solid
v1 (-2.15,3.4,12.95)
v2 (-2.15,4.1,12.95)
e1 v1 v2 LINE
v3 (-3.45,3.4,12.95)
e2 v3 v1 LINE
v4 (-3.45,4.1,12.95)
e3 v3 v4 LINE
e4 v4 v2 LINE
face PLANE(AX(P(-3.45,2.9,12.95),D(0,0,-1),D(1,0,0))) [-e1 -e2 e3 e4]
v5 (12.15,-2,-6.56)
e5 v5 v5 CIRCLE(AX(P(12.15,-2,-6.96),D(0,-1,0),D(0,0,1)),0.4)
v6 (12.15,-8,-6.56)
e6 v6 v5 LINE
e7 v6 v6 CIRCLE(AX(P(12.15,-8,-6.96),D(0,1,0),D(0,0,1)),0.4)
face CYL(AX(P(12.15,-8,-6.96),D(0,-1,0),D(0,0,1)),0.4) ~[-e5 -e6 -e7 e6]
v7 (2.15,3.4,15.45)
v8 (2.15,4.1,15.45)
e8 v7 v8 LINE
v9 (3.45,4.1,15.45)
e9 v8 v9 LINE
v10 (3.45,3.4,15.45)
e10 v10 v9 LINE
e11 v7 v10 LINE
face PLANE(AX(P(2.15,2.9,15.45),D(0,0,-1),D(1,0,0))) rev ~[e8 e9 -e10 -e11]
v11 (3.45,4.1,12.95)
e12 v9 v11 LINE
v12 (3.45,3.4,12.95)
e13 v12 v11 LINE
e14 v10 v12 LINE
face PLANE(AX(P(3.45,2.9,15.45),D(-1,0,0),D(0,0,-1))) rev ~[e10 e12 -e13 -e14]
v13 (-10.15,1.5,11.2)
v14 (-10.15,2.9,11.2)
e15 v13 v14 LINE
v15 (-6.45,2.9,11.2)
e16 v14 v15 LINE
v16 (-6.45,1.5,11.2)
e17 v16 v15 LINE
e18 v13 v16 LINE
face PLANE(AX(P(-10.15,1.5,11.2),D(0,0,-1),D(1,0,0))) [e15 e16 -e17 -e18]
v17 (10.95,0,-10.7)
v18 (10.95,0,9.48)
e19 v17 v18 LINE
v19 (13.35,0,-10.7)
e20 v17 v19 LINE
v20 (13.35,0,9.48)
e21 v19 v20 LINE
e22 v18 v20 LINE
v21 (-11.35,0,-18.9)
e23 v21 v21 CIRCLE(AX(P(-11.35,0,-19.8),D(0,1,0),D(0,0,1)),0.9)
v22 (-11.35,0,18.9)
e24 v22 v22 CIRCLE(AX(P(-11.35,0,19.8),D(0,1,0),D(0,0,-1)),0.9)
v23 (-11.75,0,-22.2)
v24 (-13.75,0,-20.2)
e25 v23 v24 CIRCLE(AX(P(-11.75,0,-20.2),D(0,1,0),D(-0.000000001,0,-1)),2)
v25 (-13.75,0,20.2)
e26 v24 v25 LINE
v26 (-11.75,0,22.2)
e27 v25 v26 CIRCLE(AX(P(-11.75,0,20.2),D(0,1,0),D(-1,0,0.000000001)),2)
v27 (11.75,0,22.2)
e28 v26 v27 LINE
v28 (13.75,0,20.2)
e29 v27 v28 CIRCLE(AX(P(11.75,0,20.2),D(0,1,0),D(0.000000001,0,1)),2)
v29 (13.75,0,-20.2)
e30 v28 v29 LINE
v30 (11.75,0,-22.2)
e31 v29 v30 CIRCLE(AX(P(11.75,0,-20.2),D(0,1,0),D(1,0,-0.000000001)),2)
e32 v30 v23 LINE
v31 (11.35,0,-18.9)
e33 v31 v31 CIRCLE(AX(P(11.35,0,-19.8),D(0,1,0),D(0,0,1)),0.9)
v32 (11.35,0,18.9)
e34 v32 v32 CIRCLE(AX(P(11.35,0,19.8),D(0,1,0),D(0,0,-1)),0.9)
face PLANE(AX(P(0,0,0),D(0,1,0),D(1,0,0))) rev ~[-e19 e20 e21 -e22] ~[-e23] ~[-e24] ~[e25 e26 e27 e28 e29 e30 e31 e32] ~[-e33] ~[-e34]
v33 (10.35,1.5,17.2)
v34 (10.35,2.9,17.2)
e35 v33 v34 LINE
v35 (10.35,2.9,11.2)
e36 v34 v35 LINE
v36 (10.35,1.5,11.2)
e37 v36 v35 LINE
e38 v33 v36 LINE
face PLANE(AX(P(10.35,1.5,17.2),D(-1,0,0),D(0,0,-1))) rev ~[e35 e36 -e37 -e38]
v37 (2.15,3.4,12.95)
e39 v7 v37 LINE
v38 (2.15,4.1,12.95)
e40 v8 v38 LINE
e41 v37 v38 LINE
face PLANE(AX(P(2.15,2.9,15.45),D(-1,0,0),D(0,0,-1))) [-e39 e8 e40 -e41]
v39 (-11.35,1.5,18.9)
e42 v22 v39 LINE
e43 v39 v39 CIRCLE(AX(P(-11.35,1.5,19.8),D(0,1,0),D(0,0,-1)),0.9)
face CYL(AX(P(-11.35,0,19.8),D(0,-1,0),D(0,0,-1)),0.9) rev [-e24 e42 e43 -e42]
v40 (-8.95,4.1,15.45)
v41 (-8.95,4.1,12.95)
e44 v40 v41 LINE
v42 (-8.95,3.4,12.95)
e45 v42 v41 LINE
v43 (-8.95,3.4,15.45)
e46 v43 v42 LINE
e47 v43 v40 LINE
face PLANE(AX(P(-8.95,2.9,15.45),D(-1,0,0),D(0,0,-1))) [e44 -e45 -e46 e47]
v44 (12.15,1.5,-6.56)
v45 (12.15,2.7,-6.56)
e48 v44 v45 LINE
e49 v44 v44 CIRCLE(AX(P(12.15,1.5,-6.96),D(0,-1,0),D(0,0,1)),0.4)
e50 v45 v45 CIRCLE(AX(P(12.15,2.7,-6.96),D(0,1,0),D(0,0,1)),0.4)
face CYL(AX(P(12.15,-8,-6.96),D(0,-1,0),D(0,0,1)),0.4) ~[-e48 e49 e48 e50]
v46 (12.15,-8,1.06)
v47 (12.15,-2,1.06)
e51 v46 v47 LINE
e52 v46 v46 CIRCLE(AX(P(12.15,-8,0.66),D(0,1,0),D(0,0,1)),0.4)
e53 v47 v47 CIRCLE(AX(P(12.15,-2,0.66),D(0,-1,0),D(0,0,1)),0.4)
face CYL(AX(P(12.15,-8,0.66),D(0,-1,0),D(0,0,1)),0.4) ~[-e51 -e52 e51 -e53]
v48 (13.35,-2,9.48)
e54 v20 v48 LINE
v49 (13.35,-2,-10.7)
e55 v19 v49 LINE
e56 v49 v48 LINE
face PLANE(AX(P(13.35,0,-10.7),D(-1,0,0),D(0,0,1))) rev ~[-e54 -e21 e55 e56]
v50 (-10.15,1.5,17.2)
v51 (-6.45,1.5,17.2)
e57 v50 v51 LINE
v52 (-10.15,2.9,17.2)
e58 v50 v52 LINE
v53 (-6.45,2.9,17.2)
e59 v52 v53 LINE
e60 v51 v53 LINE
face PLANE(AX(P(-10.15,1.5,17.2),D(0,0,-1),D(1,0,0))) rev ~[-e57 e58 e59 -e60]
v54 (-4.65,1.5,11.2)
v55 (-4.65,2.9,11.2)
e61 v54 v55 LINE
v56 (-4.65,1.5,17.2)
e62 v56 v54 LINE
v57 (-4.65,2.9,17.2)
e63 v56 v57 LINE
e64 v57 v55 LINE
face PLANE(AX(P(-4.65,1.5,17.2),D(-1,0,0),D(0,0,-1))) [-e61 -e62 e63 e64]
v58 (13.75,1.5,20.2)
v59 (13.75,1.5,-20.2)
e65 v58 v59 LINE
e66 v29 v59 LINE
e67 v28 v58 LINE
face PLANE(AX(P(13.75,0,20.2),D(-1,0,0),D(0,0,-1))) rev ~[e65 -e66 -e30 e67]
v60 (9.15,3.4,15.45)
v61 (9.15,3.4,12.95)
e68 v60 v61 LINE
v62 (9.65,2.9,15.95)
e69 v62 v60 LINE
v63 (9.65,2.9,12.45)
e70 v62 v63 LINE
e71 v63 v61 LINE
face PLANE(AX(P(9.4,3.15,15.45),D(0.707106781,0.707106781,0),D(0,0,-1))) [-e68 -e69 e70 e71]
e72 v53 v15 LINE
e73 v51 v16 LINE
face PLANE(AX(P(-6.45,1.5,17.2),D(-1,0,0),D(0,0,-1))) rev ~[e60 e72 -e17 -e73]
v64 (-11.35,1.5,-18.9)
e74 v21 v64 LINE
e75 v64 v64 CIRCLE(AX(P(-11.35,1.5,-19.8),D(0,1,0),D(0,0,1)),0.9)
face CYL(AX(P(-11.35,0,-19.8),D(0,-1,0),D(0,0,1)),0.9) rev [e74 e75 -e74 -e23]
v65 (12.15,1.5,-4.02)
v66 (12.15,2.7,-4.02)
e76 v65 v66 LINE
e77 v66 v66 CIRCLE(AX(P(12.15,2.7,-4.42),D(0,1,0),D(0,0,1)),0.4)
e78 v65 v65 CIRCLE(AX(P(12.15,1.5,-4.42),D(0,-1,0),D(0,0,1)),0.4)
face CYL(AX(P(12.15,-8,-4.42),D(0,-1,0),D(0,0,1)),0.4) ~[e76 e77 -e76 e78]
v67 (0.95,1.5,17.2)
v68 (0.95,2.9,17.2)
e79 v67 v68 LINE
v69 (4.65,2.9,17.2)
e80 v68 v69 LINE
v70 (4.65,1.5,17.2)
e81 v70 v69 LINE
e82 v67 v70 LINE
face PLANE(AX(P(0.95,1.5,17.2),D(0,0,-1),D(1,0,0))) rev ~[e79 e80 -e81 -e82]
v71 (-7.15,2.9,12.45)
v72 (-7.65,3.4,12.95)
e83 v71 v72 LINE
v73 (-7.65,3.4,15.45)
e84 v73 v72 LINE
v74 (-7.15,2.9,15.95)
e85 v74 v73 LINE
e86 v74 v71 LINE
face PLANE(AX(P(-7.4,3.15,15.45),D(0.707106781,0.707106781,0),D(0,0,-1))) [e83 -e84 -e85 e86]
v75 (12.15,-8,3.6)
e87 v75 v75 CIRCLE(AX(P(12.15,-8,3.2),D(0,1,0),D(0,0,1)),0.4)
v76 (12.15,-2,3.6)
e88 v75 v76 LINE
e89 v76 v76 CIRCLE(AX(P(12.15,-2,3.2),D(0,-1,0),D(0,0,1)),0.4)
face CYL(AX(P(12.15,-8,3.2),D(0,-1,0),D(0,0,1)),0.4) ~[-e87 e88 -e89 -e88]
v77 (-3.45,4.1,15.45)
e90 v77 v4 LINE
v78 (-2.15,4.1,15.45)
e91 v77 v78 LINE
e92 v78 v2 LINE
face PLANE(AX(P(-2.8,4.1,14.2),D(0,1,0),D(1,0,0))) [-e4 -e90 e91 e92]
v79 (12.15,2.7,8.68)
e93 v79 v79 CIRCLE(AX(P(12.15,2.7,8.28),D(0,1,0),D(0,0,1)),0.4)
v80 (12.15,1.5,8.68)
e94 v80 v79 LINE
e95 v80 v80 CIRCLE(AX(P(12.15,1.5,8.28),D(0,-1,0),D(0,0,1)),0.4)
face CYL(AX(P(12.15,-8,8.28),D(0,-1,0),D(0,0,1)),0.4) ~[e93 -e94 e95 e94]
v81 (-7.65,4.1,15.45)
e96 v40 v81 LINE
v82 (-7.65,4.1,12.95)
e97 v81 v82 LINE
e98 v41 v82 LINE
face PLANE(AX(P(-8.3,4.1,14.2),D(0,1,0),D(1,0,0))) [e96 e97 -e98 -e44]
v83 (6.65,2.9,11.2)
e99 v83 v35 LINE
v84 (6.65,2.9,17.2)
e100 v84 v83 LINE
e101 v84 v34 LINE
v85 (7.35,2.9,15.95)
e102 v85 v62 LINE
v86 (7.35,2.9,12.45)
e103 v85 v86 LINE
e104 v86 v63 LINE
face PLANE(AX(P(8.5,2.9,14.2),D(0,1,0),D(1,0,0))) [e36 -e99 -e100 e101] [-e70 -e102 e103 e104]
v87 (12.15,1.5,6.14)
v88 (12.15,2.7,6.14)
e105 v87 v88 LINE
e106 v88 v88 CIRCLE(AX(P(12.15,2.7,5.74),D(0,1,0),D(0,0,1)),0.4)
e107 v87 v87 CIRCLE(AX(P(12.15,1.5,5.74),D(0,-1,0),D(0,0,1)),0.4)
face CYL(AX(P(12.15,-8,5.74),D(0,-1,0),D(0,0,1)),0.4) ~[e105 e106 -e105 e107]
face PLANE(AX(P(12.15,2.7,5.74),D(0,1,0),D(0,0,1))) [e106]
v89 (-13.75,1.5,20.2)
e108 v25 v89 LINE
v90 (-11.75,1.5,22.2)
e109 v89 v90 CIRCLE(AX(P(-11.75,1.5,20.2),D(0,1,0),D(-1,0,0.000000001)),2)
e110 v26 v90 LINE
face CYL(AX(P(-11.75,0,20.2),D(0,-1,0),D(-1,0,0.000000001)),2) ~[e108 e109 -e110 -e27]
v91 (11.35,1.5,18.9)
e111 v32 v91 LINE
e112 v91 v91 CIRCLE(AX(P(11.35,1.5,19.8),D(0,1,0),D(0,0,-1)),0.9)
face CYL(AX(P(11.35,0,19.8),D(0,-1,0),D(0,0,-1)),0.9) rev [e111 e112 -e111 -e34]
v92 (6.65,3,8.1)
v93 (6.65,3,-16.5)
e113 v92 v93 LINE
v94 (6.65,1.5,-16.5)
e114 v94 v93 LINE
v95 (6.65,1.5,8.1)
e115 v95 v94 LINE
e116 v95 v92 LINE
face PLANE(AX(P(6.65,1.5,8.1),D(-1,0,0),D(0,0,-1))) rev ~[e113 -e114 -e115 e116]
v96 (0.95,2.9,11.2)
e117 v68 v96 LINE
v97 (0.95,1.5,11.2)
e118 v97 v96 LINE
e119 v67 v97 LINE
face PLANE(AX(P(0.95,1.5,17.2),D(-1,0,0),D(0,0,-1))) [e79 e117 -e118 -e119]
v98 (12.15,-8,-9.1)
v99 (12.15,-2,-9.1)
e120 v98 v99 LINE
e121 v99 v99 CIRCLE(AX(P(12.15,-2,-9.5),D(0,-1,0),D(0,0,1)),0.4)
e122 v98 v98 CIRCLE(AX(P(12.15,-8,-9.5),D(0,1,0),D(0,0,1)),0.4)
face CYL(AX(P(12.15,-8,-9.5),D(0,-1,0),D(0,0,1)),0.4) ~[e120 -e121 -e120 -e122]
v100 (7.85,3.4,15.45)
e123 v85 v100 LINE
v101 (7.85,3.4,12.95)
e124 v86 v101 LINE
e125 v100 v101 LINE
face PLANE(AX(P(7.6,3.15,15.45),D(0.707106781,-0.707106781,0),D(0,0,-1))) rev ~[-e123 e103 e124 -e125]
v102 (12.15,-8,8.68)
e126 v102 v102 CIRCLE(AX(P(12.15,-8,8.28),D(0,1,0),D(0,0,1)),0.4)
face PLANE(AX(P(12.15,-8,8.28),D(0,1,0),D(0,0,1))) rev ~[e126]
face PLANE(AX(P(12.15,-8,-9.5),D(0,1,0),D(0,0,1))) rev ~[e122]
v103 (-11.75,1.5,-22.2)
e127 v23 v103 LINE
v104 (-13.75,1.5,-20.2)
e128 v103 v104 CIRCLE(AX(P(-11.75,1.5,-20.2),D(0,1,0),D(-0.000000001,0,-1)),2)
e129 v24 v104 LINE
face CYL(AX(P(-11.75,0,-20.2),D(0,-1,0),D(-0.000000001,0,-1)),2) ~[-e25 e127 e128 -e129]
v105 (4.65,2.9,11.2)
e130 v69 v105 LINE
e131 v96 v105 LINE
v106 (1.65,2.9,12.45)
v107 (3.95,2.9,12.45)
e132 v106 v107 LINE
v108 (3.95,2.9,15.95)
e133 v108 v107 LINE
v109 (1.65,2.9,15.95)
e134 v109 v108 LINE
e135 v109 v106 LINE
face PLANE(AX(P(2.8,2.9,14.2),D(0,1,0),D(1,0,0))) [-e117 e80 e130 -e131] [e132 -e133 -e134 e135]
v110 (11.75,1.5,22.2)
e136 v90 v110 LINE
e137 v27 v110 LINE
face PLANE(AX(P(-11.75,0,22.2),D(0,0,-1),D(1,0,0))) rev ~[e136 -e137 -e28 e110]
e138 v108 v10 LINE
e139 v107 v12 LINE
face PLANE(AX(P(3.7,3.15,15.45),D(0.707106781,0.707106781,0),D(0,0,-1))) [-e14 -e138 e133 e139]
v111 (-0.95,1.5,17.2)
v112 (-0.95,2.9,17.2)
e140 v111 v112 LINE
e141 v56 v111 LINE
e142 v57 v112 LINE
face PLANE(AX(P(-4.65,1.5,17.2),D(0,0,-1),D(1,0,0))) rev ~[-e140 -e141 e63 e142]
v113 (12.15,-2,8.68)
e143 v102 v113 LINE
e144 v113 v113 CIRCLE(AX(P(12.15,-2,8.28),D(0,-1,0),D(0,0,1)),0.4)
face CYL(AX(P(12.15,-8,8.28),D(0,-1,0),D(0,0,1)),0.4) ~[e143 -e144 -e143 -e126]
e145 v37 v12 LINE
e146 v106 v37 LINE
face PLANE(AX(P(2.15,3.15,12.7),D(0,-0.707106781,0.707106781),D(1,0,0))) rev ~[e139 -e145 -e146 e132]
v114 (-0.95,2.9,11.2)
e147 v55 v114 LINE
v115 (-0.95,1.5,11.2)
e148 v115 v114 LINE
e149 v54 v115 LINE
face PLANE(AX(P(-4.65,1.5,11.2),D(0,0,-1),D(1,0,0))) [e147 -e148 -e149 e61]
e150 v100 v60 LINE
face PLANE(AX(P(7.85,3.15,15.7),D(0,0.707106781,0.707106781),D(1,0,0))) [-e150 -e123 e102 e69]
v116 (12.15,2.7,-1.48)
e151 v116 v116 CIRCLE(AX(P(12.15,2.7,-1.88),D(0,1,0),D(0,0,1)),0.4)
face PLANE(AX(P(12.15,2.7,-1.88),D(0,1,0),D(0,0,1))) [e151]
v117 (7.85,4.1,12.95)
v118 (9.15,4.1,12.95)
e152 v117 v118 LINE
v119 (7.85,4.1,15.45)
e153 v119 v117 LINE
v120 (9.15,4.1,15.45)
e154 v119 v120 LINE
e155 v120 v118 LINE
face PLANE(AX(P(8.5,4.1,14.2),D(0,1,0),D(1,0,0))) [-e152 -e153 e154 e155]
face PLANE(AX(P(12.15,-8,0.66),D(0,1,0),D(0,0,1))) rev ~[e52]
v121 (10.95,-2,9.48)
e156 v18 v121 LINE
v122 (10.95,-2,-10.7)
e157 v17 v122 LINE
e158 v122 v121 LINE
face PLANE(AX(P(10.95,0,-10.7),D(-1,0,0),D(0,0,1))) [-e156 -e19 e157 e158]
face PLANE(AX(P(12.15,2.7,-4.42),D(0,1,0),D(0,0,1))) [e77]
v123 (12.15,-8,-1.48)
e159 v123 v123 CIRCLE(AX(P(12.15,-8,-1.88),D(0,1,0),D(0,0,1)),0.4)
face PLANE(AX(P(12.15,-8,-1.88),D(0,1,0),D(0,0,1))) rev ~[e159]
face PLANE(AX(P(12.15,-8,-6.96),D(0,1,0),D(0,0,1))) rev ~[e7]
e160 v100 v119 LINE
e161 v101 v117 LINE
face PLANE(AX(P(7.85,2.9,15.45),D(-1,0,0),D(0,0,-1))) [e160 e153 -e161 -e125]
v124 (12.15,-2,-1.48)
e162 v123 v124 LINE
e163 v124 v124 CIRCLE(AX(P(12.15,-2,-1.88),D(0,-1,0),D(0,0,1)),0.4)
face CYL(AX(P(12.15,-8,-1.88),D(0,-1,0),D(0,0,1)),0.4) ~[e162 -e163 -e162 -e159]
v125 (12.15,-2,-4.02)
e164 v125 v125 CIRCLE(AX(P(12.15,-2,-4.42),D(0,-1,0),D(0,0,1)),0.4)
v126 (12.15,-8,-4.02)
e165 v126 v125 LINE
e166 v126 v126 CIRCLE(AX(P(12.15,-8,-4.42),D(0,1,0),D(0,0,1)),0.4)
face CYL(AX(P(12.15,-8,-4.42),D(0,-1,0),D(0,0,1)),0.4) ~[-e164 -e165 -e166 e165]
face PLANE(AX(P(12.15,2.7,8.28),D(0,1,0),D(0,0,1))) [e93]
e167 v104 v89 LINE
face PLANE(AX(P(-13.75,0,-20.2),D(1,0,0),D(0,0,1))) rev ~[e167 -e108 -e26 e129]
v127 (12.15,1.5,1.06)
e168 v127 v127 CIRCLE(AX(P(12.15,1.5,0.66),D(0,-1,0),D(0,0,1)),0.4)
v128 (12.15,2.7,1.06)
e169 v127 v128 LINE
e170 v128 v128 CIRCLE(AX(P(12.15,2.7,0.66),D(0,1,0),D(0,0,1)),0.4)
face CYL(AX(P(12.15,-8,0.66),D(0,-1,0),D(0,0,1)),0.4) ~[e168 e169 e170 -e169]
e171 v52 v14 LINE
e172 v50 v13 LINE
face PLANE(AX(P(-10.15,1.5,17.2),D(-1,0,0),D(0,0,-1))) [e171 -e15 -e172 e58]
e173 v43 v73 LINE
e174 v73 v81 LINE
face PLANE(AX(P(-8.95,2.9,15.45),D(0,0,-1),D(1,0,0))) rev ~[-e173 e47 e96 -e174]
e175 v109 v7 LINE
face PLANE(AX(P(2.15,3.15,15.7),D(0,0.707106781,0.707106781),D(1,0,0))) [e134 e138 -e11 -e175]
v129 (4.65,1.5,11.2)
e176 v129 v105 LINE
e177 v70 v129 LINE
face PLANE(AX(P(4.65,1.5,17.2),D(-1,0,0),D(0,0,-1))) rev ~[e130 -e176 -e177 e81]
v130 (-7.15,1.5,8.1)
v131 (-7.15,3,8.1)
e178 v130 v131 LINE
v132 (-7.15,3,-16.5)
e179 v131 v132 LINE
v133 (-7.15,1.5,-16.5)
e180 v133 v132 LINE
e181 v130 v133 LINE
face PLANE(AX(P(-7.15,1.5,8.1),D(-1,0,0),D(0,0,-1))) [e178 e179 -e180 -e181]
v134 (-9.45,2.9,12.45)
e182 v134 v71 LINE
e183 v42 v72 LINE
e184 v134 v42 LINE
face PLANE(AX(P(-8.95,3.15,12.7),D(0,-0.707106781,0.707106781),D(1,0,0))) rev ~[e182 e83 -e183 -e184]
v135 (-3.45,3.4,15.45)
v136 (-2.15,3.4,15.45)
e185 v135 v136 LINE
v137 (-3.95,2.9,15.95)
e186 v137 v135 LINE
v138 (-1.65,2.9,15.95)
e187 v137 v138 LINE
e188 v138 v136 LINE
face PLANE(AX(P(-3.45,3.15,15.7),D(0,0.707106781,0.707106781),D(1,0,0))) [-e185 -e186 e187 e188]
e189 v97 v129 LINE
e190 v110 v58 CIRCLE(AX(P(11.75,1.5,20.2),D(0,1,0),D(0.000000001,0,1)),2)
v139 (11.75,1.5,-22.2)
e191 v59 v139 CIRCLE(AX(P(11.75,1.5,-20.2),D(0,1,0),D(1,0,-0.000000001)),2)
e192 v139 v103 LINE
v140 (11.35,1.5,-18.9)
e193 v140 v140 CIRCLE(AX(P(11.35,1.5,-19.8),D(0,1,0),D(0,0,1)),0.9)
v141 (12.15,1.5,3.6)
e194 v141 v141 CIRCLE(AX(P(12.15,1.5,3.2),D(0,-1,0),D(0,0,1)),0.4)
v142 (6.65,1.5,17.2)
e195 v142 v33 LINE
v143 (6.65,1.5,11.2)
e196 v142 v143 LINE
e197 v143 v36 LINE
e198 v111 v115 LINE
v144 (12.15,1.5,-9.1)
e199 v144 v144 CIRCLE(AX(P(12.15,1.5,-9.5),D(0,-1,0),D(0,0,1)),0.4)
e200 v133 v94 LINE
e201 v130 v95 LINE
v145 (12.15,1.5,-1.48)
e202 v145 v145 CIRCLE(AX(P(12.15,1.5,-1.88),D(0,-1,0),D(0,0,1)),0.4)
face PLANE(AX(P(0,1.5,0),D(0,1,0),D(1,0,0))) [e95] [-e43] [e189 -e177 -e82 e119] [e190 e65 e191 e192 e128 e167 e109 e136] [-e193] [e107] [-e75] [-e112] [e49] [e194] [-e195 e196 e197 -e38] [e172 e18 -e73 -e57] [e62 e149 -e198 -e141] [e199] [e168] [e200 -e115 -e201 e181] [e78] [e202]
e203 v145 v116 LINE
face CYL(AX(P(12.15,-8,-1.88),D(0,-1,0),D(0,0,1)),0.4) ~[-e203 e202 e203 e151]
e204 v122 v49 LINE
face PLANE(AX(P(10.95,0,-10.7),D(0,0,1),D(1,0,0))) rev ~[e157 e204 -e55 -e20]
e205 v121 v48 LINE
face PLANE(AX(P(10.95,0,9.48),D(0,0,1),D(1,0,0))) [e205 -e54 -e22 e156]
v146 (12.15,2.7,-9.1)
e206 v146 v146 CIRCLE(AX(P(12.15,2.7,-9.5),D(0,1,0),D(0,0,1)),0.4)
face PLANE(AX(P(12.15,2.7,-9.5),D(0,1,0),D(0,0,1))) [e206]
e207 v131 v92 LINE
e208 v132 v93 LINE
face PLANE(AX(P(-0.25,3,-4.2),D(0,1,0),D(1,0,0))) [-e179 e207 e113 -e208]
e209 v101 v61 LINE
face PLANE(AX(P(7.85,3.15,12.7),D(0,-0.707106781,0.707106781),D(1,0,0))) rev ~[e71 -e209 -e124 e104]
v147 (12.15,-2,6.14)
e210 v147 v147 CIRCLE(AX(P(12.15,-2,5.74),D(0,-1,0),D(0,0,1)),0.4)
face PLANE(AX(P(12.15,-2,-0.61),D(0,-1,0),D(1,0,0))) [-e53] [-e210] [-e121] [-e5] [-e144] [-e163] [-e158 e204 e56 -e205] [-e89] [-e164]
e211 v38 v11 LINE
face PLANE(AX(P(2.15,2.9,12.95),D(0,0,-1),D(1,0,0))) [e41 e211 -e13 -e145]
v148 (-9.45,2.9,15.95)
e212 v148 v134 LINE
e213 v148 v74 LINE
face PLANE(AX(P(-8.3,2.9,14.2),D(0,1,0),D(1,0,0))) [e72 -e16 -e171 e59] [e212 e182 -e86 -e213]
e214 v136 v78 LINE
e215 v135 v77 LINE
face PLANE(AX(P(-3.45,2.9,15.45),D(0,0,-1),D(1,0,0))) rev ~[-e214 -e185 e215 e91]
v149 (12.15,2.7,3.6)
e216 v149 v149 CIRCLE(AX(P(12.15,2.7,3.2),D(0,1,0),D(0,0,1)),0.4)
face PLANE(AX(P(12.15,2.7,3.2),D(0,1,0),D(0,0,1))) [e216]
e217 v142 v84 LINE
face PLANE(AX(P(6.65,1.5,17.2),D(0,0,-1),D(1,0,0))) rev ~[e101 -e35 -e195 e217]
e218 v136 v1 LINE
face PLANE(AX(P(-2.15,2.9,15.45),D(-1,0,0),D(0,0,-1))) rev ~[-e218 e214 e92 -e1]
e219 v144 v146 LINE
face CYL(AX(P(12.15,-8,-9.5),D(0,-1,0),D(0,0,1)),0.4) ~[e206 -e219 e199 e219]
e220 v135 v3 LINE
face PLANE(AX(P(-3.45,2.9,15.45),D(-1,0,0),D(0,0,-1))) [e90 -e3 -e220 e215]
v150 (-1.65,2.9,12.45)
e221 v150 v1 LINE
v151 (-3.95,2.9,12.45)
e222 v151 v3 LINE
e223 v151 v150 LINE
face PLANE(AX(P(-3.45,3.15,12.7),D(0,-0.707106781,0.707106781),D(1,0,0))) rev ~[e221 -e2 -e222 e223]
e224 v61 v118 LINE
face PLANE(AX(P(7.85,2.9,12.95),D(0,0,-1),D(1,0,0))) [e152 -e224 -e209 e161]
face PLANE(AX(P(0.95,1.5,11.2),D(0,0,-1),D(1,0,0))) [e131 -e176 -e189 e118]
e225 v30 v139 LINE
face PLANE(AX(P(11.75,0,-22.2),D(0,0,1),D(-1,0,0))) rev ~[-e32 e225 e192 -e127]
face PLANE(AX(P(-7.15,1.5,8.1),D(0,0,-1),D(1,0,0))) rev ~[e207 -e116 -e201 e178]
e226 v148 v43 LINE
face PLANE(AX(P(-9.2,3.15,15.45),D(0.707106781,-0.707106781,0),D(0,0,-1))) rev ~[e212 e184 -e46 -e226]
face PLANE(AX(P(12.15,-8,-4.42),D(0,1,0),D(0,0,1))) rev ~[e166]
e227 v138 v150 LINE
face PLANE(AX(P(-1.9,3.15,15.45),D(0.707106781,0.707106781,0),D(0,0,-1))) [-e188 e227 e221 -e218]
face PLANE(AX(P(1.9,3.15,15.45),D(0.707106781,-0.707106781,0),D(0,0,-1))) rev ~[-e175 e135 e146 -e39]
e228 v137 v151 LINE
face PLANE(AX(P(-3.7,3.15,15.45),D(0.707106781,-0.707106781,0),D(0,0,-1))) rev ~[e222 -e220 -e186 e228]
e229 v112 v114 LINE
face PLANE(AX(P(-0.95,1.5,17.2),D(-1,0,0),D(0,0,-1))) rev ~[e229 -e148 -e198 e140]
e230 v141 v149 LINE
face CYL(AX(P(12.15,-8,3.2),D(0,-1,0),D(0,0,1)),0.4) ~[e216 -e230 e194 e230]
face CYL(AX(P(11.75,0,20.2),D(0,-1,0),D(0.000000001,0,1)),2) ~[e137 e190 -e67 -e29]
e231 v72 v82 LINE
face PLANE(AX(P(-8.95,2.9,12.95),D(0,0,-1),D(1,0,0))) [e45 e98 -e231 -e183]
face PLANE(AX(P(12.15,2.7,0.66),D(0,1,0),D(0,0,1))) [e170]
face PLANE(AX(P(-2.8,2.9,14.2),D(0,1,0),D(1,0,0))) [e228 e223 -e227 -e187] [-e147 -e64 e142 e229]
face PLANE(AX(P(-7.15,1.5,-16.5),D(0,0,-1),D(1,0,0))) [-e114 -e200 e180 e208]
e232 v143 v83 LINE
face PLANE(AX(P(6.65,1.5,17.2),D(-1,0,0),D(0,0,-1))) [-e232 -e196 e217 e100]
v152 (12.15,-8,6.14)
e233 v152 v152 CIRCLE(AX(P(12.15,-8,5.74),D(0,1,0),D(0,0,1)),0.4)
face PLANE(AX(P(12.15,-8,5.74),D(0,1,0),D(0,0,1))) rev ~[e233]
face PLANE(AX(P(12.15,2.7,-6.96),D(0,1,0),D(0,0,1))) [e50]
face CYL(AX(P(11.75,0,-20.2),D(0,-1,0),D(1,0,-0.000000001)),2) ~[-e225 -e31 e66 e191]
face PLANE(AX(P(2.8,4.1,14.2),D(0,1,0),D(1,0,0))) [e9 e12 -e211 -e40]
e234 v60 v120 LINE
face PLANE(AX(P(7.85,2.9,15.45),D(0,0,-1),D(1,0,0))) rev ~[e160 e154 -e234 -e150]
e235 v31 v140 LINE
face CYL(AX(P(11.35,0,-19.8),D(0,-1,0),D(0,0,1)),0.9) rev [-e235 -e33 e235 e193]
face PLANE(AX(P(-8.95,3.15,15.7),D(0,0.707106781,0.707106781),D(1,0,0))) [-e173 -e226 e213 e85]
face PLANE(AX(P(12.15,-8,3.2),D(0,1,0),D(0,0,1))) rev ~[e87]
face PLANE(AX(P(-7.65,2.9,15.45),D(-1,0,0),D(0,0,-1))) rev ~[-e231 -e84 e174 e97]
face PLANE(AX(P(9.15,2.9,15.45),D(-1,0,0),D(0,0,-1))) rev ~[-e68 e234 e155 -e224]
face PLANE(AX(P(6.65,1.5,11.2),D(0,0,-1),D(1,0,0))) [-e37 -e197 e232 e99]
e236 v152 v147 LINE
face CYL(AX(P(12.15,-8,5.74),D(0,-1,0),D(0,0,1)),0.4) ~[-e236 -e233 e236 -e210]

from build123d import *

# Parameters (mm, degrees)
SKETCH_1_R           = 0.9
EXTRUDE_1_DEPTH      = 1.5
SKETCH_2_W           = 13.8
SKETCH_2_H           = 24.6
EXTRUDE_2_DEPTH      = 1.5
SKETCH_3_W           = 3.7
SKETCH_3_H           = 6
EXTRUDE_3_DEPTH      = 1.4
SKETCH_4_W           = 1.3
SKETCH_4_H           = 2.5
EXTRUDE_4_DEPTH      = 1.2
CHAMFER_1_SIZE       = 0.5
EXTRUDE_5_DEPTH      = 1.2
EXTRUDE_5_DEPTH_BACK = 9.5
SKETCH_5_R           = 0.4
SKETCH_6_W           = 2.4
SKETCH_6_H           = 20.18
SKETCH_6_R           = 0.4
EXTRUDE_6_DEPTH      = 2


with BuildPart() as part:
    # Эскиз1 → Бобышка-Вытянуть1 (new body)
    with BuildSketch(Plane(origin=(0, 0, 0), x_dir=(1, 0, 0), z_dir=(0, 1, 0))):
        with BuildLine():
            Line((11.75, 22.2), (-11.75, 22.2))
            ThreePointArc((-11.75, 22.2), (-13.164213562, 21.614213562), (-13.75, 20.2))
            Line((-13.75, 20.2), (-13.75, -20.2))
            ThreePointArc((-13.75, -20.2), (-13.164213562, -21.614213562), (-11.75, -22.2))
            Line((-11.75, -22.2), (11.75, -22.2))
            ThreePointArc((11.75, -22.2), (13.164213562, -21.614213562), (13.75, -20.2))
            Line((13.75, -20.2), (13.75, 20.2))
            ThreePointArc((13.75, 20.2), (13.164213562, 21.614213562), (11.75, 22.2))
        make_face()
        with Locations(Location((11.35, 19.8, 0), (0, 0, 270))):
            Circle(SKETCH_1_R, mode=Mode.SUBTRACT)
        with Locations(Location((-11.35, 19.8, 0), (0, 0, 270))):
            Circle(SKETCH_1_R, mode=Mode.SUBTRACT)
        with Locations(Location((-11.35, -19.8, 0), (0, 0, 90))):
            Circle(SKETCH_1_R, mode=Mode.SUBTRACT)
        with Locations(Location((11.35, -19.8, 0), (0, 0, 90))):
            Circle(SKETCH_1_R, mode=Mode.SUBTRACT)
    extrude(amount=EXTRUDE_1_DEPTH)

    # Эскиз2 → Бобышка-Вытянуть2 (add)
    with BuildSketch(Plane(origin=(0, 1.5, 0), x_dir=(1, 0, 0), z_dir=(0, 1, 0))):
        with Locations((-0.25, 4.2)):
            Rectangle(SKETCH_2_W, SKETCH_2_H)
    extrude(amount=EXTRUDE_2_DEPTH)

    # Эскиз3 → Бобышка-Вытянуть3 (add)
    with BuildSketch(Plane(origin=(0, 1.5, 0), x_dir=(1, 0, 0), z_dir=(0, 1, 0))):
        with Locations((8.5, -14.2)):
            Rectangle(SKETCH_3_W, SKETCH_3_H)
        with Locations((2.8, -14.2)):
            Rectangle(SKETCH_3_W, SKETCH_3_H)
        with Locations((-2.8, -14.2)):
            Rectangle(SKETCH_3_W, SKETCH_3_H)
        with Locations((-8.3, -14.2)):
            Rectangle(SKETCH_3_W, SKETCH_3_H)
    extrude(amount=EXTRUDE_3_DEPTH)

    # Эскиз4 → Бобышка-Вытянуть4 (add)
    with BuildSketch(Plane(origin=(0, 2.9, 0), x_dir=(1, 0, 0), z_dir=(0, 1, 0))):
        with Locations((8.5, -14.2)):
            Rectangle(SKETCH_4_W, SKETCH_4_H)
        with Locations((2.8, -14.2)):
            Rectangle(SKETCH_4_W, SKETCH_4_H)
        with Locations((-2.8, -14.2)):
            Rectangle(SKETCH_4_W, SKETCH_4_H)
        with Locations((-8.3, -14.2)):
            Rectangle(SKETCH_4_W, SKETCH_4_H)
    extrude(amount=EXTRUDE_4_DEPTH)

    # Фаска1
    chamfer_1_edges = [part.edges().sort_by_distance(p)[0] for p in [
        (9.15, 2.9, 14.2),
        (8.5, 2.9, 12.95),
        (7.85, 2.9, 14.2),
        (8.5, 2.9, 15.45),
        (2.8, 2.9, 12.95),
        (2.15, 2.9, 14.2),
        (2.8, 2.9, 15.45),
        (3.45, 2.9, 14.2),
        (-2.8, 2.9, 12.95),
        (-3.45, 2.9, 14.2),
        (-2.8, 2.9, 15.45),
        (-2.15, 2.9, 14.2),
        (-8.3, 2.9, 12.95),
        (-8.95, 2.9, 14.2),
        (-8.3, 2.9, 15.45),
        (-7.65, 2.9, 14.2),
    ]]
    chamfer(chamfer_1_edges, length=CHAMFER_1_SIZE)

    # Эскиз5 → Бобышка-Вытянуть5 (add, two sides: drawn at the far end of the back side and taken through both)
    with BuildSketch(Plane(origin=(0, 1.5, 0), x_dir=(1, 0, 0), z_dir=(0, 1, 0)).offset(-EXTRUDE_5_DEPTH_BACK)):
        with Locations(Location((12.15, 9.5, 0), (0, 0, 270))):
            Circle(SKETCH_5_R)
        with Locations(Location((12.15, 6.96, 0), (0, 0, 270))):
            Circle(SKETCH_5_R)
        with Locations(Location((12.15, 4.42, 0), (0, 0, 270))):
            Circle(SKETCH_5_R)
        with Locations(Location((12.15, 1.88, 0), (0, 0, 270))):
            Circle(SKETCH_5_R)
        with Locations(Location((12.15, -0.66, 0), (0, 0, 270))):
            Circle(SKETCH_5_R)
        with Locations(Location((12.15, -3.2, 0), (0, 0, 270))):
            Circle(SKETCH_5_R)
        with Locations(Location((12.15, -5.74, 0), (0, 0, 270))):
            Circle(SKETCH_5_R)
        with Locations(Location((12.15, -8.28, 0), (0, 0, 270))):
            Circle(SKETCH_5_R)
    extrude(amount=EXTRUDE_5_DEPTH + EXTRUDE_5_DEPTH_BACK)

    # Эскиз6 → Бобышка-Вытянуть6 (add)
    with BuildSketch(Plane.XZ):
        with Locations((12.15, -0.61)):
            Rectangle(SKETCH_6_W, SKETCH_6_H)
        with Locations(Location((12.15, -9.5, 0), (0, 0, 90))):
            Circle(SKETCH_6_R, mode=Mode.SUBTRACT)
        with Locations(Location((12.15, -6.96, 0), (0, 0, 90))):
            Circle(SKETCH_6_R, mode=Mode.SUBTRACT)
        with Locations(Location((12.15, -4.42, 0), (0, 0, 90))):
            Circle(SKETCH_6_R, mode=Mode.SUBTRACT)
        with Locations(Location((12.15, -1.88, 0), (0, 0, 90))):
            Circle(SKETCH_6_R, mode=Mode.SUBTRACT)
        with Locations(Location((12.15, 0.66, 0), (0, 0, 90))):
            Circle(SKETCH_6_R, mode=Mode.SUBTRACT)
        with Locations(Location((12.15, 3.2, 0), (0, 0, 90))):
            Circle(SKETCH_6_R, mode=Mode.SUBTRACT)
        with Locations(Location((12.15, 5.74, 0), (0, 0, 90))):
            Circle(SKETCH_6_R, mode=Mode.SUBTRACT)
        with Locations(Location((12.15, 8.28, 0), (0, 0, 90))):
            Circle(SKETCH_6_R, mode=Mode.SUBTRACT)
    extrude(amount=EXTRUDE_6_DEPTH)


solid = part.part
